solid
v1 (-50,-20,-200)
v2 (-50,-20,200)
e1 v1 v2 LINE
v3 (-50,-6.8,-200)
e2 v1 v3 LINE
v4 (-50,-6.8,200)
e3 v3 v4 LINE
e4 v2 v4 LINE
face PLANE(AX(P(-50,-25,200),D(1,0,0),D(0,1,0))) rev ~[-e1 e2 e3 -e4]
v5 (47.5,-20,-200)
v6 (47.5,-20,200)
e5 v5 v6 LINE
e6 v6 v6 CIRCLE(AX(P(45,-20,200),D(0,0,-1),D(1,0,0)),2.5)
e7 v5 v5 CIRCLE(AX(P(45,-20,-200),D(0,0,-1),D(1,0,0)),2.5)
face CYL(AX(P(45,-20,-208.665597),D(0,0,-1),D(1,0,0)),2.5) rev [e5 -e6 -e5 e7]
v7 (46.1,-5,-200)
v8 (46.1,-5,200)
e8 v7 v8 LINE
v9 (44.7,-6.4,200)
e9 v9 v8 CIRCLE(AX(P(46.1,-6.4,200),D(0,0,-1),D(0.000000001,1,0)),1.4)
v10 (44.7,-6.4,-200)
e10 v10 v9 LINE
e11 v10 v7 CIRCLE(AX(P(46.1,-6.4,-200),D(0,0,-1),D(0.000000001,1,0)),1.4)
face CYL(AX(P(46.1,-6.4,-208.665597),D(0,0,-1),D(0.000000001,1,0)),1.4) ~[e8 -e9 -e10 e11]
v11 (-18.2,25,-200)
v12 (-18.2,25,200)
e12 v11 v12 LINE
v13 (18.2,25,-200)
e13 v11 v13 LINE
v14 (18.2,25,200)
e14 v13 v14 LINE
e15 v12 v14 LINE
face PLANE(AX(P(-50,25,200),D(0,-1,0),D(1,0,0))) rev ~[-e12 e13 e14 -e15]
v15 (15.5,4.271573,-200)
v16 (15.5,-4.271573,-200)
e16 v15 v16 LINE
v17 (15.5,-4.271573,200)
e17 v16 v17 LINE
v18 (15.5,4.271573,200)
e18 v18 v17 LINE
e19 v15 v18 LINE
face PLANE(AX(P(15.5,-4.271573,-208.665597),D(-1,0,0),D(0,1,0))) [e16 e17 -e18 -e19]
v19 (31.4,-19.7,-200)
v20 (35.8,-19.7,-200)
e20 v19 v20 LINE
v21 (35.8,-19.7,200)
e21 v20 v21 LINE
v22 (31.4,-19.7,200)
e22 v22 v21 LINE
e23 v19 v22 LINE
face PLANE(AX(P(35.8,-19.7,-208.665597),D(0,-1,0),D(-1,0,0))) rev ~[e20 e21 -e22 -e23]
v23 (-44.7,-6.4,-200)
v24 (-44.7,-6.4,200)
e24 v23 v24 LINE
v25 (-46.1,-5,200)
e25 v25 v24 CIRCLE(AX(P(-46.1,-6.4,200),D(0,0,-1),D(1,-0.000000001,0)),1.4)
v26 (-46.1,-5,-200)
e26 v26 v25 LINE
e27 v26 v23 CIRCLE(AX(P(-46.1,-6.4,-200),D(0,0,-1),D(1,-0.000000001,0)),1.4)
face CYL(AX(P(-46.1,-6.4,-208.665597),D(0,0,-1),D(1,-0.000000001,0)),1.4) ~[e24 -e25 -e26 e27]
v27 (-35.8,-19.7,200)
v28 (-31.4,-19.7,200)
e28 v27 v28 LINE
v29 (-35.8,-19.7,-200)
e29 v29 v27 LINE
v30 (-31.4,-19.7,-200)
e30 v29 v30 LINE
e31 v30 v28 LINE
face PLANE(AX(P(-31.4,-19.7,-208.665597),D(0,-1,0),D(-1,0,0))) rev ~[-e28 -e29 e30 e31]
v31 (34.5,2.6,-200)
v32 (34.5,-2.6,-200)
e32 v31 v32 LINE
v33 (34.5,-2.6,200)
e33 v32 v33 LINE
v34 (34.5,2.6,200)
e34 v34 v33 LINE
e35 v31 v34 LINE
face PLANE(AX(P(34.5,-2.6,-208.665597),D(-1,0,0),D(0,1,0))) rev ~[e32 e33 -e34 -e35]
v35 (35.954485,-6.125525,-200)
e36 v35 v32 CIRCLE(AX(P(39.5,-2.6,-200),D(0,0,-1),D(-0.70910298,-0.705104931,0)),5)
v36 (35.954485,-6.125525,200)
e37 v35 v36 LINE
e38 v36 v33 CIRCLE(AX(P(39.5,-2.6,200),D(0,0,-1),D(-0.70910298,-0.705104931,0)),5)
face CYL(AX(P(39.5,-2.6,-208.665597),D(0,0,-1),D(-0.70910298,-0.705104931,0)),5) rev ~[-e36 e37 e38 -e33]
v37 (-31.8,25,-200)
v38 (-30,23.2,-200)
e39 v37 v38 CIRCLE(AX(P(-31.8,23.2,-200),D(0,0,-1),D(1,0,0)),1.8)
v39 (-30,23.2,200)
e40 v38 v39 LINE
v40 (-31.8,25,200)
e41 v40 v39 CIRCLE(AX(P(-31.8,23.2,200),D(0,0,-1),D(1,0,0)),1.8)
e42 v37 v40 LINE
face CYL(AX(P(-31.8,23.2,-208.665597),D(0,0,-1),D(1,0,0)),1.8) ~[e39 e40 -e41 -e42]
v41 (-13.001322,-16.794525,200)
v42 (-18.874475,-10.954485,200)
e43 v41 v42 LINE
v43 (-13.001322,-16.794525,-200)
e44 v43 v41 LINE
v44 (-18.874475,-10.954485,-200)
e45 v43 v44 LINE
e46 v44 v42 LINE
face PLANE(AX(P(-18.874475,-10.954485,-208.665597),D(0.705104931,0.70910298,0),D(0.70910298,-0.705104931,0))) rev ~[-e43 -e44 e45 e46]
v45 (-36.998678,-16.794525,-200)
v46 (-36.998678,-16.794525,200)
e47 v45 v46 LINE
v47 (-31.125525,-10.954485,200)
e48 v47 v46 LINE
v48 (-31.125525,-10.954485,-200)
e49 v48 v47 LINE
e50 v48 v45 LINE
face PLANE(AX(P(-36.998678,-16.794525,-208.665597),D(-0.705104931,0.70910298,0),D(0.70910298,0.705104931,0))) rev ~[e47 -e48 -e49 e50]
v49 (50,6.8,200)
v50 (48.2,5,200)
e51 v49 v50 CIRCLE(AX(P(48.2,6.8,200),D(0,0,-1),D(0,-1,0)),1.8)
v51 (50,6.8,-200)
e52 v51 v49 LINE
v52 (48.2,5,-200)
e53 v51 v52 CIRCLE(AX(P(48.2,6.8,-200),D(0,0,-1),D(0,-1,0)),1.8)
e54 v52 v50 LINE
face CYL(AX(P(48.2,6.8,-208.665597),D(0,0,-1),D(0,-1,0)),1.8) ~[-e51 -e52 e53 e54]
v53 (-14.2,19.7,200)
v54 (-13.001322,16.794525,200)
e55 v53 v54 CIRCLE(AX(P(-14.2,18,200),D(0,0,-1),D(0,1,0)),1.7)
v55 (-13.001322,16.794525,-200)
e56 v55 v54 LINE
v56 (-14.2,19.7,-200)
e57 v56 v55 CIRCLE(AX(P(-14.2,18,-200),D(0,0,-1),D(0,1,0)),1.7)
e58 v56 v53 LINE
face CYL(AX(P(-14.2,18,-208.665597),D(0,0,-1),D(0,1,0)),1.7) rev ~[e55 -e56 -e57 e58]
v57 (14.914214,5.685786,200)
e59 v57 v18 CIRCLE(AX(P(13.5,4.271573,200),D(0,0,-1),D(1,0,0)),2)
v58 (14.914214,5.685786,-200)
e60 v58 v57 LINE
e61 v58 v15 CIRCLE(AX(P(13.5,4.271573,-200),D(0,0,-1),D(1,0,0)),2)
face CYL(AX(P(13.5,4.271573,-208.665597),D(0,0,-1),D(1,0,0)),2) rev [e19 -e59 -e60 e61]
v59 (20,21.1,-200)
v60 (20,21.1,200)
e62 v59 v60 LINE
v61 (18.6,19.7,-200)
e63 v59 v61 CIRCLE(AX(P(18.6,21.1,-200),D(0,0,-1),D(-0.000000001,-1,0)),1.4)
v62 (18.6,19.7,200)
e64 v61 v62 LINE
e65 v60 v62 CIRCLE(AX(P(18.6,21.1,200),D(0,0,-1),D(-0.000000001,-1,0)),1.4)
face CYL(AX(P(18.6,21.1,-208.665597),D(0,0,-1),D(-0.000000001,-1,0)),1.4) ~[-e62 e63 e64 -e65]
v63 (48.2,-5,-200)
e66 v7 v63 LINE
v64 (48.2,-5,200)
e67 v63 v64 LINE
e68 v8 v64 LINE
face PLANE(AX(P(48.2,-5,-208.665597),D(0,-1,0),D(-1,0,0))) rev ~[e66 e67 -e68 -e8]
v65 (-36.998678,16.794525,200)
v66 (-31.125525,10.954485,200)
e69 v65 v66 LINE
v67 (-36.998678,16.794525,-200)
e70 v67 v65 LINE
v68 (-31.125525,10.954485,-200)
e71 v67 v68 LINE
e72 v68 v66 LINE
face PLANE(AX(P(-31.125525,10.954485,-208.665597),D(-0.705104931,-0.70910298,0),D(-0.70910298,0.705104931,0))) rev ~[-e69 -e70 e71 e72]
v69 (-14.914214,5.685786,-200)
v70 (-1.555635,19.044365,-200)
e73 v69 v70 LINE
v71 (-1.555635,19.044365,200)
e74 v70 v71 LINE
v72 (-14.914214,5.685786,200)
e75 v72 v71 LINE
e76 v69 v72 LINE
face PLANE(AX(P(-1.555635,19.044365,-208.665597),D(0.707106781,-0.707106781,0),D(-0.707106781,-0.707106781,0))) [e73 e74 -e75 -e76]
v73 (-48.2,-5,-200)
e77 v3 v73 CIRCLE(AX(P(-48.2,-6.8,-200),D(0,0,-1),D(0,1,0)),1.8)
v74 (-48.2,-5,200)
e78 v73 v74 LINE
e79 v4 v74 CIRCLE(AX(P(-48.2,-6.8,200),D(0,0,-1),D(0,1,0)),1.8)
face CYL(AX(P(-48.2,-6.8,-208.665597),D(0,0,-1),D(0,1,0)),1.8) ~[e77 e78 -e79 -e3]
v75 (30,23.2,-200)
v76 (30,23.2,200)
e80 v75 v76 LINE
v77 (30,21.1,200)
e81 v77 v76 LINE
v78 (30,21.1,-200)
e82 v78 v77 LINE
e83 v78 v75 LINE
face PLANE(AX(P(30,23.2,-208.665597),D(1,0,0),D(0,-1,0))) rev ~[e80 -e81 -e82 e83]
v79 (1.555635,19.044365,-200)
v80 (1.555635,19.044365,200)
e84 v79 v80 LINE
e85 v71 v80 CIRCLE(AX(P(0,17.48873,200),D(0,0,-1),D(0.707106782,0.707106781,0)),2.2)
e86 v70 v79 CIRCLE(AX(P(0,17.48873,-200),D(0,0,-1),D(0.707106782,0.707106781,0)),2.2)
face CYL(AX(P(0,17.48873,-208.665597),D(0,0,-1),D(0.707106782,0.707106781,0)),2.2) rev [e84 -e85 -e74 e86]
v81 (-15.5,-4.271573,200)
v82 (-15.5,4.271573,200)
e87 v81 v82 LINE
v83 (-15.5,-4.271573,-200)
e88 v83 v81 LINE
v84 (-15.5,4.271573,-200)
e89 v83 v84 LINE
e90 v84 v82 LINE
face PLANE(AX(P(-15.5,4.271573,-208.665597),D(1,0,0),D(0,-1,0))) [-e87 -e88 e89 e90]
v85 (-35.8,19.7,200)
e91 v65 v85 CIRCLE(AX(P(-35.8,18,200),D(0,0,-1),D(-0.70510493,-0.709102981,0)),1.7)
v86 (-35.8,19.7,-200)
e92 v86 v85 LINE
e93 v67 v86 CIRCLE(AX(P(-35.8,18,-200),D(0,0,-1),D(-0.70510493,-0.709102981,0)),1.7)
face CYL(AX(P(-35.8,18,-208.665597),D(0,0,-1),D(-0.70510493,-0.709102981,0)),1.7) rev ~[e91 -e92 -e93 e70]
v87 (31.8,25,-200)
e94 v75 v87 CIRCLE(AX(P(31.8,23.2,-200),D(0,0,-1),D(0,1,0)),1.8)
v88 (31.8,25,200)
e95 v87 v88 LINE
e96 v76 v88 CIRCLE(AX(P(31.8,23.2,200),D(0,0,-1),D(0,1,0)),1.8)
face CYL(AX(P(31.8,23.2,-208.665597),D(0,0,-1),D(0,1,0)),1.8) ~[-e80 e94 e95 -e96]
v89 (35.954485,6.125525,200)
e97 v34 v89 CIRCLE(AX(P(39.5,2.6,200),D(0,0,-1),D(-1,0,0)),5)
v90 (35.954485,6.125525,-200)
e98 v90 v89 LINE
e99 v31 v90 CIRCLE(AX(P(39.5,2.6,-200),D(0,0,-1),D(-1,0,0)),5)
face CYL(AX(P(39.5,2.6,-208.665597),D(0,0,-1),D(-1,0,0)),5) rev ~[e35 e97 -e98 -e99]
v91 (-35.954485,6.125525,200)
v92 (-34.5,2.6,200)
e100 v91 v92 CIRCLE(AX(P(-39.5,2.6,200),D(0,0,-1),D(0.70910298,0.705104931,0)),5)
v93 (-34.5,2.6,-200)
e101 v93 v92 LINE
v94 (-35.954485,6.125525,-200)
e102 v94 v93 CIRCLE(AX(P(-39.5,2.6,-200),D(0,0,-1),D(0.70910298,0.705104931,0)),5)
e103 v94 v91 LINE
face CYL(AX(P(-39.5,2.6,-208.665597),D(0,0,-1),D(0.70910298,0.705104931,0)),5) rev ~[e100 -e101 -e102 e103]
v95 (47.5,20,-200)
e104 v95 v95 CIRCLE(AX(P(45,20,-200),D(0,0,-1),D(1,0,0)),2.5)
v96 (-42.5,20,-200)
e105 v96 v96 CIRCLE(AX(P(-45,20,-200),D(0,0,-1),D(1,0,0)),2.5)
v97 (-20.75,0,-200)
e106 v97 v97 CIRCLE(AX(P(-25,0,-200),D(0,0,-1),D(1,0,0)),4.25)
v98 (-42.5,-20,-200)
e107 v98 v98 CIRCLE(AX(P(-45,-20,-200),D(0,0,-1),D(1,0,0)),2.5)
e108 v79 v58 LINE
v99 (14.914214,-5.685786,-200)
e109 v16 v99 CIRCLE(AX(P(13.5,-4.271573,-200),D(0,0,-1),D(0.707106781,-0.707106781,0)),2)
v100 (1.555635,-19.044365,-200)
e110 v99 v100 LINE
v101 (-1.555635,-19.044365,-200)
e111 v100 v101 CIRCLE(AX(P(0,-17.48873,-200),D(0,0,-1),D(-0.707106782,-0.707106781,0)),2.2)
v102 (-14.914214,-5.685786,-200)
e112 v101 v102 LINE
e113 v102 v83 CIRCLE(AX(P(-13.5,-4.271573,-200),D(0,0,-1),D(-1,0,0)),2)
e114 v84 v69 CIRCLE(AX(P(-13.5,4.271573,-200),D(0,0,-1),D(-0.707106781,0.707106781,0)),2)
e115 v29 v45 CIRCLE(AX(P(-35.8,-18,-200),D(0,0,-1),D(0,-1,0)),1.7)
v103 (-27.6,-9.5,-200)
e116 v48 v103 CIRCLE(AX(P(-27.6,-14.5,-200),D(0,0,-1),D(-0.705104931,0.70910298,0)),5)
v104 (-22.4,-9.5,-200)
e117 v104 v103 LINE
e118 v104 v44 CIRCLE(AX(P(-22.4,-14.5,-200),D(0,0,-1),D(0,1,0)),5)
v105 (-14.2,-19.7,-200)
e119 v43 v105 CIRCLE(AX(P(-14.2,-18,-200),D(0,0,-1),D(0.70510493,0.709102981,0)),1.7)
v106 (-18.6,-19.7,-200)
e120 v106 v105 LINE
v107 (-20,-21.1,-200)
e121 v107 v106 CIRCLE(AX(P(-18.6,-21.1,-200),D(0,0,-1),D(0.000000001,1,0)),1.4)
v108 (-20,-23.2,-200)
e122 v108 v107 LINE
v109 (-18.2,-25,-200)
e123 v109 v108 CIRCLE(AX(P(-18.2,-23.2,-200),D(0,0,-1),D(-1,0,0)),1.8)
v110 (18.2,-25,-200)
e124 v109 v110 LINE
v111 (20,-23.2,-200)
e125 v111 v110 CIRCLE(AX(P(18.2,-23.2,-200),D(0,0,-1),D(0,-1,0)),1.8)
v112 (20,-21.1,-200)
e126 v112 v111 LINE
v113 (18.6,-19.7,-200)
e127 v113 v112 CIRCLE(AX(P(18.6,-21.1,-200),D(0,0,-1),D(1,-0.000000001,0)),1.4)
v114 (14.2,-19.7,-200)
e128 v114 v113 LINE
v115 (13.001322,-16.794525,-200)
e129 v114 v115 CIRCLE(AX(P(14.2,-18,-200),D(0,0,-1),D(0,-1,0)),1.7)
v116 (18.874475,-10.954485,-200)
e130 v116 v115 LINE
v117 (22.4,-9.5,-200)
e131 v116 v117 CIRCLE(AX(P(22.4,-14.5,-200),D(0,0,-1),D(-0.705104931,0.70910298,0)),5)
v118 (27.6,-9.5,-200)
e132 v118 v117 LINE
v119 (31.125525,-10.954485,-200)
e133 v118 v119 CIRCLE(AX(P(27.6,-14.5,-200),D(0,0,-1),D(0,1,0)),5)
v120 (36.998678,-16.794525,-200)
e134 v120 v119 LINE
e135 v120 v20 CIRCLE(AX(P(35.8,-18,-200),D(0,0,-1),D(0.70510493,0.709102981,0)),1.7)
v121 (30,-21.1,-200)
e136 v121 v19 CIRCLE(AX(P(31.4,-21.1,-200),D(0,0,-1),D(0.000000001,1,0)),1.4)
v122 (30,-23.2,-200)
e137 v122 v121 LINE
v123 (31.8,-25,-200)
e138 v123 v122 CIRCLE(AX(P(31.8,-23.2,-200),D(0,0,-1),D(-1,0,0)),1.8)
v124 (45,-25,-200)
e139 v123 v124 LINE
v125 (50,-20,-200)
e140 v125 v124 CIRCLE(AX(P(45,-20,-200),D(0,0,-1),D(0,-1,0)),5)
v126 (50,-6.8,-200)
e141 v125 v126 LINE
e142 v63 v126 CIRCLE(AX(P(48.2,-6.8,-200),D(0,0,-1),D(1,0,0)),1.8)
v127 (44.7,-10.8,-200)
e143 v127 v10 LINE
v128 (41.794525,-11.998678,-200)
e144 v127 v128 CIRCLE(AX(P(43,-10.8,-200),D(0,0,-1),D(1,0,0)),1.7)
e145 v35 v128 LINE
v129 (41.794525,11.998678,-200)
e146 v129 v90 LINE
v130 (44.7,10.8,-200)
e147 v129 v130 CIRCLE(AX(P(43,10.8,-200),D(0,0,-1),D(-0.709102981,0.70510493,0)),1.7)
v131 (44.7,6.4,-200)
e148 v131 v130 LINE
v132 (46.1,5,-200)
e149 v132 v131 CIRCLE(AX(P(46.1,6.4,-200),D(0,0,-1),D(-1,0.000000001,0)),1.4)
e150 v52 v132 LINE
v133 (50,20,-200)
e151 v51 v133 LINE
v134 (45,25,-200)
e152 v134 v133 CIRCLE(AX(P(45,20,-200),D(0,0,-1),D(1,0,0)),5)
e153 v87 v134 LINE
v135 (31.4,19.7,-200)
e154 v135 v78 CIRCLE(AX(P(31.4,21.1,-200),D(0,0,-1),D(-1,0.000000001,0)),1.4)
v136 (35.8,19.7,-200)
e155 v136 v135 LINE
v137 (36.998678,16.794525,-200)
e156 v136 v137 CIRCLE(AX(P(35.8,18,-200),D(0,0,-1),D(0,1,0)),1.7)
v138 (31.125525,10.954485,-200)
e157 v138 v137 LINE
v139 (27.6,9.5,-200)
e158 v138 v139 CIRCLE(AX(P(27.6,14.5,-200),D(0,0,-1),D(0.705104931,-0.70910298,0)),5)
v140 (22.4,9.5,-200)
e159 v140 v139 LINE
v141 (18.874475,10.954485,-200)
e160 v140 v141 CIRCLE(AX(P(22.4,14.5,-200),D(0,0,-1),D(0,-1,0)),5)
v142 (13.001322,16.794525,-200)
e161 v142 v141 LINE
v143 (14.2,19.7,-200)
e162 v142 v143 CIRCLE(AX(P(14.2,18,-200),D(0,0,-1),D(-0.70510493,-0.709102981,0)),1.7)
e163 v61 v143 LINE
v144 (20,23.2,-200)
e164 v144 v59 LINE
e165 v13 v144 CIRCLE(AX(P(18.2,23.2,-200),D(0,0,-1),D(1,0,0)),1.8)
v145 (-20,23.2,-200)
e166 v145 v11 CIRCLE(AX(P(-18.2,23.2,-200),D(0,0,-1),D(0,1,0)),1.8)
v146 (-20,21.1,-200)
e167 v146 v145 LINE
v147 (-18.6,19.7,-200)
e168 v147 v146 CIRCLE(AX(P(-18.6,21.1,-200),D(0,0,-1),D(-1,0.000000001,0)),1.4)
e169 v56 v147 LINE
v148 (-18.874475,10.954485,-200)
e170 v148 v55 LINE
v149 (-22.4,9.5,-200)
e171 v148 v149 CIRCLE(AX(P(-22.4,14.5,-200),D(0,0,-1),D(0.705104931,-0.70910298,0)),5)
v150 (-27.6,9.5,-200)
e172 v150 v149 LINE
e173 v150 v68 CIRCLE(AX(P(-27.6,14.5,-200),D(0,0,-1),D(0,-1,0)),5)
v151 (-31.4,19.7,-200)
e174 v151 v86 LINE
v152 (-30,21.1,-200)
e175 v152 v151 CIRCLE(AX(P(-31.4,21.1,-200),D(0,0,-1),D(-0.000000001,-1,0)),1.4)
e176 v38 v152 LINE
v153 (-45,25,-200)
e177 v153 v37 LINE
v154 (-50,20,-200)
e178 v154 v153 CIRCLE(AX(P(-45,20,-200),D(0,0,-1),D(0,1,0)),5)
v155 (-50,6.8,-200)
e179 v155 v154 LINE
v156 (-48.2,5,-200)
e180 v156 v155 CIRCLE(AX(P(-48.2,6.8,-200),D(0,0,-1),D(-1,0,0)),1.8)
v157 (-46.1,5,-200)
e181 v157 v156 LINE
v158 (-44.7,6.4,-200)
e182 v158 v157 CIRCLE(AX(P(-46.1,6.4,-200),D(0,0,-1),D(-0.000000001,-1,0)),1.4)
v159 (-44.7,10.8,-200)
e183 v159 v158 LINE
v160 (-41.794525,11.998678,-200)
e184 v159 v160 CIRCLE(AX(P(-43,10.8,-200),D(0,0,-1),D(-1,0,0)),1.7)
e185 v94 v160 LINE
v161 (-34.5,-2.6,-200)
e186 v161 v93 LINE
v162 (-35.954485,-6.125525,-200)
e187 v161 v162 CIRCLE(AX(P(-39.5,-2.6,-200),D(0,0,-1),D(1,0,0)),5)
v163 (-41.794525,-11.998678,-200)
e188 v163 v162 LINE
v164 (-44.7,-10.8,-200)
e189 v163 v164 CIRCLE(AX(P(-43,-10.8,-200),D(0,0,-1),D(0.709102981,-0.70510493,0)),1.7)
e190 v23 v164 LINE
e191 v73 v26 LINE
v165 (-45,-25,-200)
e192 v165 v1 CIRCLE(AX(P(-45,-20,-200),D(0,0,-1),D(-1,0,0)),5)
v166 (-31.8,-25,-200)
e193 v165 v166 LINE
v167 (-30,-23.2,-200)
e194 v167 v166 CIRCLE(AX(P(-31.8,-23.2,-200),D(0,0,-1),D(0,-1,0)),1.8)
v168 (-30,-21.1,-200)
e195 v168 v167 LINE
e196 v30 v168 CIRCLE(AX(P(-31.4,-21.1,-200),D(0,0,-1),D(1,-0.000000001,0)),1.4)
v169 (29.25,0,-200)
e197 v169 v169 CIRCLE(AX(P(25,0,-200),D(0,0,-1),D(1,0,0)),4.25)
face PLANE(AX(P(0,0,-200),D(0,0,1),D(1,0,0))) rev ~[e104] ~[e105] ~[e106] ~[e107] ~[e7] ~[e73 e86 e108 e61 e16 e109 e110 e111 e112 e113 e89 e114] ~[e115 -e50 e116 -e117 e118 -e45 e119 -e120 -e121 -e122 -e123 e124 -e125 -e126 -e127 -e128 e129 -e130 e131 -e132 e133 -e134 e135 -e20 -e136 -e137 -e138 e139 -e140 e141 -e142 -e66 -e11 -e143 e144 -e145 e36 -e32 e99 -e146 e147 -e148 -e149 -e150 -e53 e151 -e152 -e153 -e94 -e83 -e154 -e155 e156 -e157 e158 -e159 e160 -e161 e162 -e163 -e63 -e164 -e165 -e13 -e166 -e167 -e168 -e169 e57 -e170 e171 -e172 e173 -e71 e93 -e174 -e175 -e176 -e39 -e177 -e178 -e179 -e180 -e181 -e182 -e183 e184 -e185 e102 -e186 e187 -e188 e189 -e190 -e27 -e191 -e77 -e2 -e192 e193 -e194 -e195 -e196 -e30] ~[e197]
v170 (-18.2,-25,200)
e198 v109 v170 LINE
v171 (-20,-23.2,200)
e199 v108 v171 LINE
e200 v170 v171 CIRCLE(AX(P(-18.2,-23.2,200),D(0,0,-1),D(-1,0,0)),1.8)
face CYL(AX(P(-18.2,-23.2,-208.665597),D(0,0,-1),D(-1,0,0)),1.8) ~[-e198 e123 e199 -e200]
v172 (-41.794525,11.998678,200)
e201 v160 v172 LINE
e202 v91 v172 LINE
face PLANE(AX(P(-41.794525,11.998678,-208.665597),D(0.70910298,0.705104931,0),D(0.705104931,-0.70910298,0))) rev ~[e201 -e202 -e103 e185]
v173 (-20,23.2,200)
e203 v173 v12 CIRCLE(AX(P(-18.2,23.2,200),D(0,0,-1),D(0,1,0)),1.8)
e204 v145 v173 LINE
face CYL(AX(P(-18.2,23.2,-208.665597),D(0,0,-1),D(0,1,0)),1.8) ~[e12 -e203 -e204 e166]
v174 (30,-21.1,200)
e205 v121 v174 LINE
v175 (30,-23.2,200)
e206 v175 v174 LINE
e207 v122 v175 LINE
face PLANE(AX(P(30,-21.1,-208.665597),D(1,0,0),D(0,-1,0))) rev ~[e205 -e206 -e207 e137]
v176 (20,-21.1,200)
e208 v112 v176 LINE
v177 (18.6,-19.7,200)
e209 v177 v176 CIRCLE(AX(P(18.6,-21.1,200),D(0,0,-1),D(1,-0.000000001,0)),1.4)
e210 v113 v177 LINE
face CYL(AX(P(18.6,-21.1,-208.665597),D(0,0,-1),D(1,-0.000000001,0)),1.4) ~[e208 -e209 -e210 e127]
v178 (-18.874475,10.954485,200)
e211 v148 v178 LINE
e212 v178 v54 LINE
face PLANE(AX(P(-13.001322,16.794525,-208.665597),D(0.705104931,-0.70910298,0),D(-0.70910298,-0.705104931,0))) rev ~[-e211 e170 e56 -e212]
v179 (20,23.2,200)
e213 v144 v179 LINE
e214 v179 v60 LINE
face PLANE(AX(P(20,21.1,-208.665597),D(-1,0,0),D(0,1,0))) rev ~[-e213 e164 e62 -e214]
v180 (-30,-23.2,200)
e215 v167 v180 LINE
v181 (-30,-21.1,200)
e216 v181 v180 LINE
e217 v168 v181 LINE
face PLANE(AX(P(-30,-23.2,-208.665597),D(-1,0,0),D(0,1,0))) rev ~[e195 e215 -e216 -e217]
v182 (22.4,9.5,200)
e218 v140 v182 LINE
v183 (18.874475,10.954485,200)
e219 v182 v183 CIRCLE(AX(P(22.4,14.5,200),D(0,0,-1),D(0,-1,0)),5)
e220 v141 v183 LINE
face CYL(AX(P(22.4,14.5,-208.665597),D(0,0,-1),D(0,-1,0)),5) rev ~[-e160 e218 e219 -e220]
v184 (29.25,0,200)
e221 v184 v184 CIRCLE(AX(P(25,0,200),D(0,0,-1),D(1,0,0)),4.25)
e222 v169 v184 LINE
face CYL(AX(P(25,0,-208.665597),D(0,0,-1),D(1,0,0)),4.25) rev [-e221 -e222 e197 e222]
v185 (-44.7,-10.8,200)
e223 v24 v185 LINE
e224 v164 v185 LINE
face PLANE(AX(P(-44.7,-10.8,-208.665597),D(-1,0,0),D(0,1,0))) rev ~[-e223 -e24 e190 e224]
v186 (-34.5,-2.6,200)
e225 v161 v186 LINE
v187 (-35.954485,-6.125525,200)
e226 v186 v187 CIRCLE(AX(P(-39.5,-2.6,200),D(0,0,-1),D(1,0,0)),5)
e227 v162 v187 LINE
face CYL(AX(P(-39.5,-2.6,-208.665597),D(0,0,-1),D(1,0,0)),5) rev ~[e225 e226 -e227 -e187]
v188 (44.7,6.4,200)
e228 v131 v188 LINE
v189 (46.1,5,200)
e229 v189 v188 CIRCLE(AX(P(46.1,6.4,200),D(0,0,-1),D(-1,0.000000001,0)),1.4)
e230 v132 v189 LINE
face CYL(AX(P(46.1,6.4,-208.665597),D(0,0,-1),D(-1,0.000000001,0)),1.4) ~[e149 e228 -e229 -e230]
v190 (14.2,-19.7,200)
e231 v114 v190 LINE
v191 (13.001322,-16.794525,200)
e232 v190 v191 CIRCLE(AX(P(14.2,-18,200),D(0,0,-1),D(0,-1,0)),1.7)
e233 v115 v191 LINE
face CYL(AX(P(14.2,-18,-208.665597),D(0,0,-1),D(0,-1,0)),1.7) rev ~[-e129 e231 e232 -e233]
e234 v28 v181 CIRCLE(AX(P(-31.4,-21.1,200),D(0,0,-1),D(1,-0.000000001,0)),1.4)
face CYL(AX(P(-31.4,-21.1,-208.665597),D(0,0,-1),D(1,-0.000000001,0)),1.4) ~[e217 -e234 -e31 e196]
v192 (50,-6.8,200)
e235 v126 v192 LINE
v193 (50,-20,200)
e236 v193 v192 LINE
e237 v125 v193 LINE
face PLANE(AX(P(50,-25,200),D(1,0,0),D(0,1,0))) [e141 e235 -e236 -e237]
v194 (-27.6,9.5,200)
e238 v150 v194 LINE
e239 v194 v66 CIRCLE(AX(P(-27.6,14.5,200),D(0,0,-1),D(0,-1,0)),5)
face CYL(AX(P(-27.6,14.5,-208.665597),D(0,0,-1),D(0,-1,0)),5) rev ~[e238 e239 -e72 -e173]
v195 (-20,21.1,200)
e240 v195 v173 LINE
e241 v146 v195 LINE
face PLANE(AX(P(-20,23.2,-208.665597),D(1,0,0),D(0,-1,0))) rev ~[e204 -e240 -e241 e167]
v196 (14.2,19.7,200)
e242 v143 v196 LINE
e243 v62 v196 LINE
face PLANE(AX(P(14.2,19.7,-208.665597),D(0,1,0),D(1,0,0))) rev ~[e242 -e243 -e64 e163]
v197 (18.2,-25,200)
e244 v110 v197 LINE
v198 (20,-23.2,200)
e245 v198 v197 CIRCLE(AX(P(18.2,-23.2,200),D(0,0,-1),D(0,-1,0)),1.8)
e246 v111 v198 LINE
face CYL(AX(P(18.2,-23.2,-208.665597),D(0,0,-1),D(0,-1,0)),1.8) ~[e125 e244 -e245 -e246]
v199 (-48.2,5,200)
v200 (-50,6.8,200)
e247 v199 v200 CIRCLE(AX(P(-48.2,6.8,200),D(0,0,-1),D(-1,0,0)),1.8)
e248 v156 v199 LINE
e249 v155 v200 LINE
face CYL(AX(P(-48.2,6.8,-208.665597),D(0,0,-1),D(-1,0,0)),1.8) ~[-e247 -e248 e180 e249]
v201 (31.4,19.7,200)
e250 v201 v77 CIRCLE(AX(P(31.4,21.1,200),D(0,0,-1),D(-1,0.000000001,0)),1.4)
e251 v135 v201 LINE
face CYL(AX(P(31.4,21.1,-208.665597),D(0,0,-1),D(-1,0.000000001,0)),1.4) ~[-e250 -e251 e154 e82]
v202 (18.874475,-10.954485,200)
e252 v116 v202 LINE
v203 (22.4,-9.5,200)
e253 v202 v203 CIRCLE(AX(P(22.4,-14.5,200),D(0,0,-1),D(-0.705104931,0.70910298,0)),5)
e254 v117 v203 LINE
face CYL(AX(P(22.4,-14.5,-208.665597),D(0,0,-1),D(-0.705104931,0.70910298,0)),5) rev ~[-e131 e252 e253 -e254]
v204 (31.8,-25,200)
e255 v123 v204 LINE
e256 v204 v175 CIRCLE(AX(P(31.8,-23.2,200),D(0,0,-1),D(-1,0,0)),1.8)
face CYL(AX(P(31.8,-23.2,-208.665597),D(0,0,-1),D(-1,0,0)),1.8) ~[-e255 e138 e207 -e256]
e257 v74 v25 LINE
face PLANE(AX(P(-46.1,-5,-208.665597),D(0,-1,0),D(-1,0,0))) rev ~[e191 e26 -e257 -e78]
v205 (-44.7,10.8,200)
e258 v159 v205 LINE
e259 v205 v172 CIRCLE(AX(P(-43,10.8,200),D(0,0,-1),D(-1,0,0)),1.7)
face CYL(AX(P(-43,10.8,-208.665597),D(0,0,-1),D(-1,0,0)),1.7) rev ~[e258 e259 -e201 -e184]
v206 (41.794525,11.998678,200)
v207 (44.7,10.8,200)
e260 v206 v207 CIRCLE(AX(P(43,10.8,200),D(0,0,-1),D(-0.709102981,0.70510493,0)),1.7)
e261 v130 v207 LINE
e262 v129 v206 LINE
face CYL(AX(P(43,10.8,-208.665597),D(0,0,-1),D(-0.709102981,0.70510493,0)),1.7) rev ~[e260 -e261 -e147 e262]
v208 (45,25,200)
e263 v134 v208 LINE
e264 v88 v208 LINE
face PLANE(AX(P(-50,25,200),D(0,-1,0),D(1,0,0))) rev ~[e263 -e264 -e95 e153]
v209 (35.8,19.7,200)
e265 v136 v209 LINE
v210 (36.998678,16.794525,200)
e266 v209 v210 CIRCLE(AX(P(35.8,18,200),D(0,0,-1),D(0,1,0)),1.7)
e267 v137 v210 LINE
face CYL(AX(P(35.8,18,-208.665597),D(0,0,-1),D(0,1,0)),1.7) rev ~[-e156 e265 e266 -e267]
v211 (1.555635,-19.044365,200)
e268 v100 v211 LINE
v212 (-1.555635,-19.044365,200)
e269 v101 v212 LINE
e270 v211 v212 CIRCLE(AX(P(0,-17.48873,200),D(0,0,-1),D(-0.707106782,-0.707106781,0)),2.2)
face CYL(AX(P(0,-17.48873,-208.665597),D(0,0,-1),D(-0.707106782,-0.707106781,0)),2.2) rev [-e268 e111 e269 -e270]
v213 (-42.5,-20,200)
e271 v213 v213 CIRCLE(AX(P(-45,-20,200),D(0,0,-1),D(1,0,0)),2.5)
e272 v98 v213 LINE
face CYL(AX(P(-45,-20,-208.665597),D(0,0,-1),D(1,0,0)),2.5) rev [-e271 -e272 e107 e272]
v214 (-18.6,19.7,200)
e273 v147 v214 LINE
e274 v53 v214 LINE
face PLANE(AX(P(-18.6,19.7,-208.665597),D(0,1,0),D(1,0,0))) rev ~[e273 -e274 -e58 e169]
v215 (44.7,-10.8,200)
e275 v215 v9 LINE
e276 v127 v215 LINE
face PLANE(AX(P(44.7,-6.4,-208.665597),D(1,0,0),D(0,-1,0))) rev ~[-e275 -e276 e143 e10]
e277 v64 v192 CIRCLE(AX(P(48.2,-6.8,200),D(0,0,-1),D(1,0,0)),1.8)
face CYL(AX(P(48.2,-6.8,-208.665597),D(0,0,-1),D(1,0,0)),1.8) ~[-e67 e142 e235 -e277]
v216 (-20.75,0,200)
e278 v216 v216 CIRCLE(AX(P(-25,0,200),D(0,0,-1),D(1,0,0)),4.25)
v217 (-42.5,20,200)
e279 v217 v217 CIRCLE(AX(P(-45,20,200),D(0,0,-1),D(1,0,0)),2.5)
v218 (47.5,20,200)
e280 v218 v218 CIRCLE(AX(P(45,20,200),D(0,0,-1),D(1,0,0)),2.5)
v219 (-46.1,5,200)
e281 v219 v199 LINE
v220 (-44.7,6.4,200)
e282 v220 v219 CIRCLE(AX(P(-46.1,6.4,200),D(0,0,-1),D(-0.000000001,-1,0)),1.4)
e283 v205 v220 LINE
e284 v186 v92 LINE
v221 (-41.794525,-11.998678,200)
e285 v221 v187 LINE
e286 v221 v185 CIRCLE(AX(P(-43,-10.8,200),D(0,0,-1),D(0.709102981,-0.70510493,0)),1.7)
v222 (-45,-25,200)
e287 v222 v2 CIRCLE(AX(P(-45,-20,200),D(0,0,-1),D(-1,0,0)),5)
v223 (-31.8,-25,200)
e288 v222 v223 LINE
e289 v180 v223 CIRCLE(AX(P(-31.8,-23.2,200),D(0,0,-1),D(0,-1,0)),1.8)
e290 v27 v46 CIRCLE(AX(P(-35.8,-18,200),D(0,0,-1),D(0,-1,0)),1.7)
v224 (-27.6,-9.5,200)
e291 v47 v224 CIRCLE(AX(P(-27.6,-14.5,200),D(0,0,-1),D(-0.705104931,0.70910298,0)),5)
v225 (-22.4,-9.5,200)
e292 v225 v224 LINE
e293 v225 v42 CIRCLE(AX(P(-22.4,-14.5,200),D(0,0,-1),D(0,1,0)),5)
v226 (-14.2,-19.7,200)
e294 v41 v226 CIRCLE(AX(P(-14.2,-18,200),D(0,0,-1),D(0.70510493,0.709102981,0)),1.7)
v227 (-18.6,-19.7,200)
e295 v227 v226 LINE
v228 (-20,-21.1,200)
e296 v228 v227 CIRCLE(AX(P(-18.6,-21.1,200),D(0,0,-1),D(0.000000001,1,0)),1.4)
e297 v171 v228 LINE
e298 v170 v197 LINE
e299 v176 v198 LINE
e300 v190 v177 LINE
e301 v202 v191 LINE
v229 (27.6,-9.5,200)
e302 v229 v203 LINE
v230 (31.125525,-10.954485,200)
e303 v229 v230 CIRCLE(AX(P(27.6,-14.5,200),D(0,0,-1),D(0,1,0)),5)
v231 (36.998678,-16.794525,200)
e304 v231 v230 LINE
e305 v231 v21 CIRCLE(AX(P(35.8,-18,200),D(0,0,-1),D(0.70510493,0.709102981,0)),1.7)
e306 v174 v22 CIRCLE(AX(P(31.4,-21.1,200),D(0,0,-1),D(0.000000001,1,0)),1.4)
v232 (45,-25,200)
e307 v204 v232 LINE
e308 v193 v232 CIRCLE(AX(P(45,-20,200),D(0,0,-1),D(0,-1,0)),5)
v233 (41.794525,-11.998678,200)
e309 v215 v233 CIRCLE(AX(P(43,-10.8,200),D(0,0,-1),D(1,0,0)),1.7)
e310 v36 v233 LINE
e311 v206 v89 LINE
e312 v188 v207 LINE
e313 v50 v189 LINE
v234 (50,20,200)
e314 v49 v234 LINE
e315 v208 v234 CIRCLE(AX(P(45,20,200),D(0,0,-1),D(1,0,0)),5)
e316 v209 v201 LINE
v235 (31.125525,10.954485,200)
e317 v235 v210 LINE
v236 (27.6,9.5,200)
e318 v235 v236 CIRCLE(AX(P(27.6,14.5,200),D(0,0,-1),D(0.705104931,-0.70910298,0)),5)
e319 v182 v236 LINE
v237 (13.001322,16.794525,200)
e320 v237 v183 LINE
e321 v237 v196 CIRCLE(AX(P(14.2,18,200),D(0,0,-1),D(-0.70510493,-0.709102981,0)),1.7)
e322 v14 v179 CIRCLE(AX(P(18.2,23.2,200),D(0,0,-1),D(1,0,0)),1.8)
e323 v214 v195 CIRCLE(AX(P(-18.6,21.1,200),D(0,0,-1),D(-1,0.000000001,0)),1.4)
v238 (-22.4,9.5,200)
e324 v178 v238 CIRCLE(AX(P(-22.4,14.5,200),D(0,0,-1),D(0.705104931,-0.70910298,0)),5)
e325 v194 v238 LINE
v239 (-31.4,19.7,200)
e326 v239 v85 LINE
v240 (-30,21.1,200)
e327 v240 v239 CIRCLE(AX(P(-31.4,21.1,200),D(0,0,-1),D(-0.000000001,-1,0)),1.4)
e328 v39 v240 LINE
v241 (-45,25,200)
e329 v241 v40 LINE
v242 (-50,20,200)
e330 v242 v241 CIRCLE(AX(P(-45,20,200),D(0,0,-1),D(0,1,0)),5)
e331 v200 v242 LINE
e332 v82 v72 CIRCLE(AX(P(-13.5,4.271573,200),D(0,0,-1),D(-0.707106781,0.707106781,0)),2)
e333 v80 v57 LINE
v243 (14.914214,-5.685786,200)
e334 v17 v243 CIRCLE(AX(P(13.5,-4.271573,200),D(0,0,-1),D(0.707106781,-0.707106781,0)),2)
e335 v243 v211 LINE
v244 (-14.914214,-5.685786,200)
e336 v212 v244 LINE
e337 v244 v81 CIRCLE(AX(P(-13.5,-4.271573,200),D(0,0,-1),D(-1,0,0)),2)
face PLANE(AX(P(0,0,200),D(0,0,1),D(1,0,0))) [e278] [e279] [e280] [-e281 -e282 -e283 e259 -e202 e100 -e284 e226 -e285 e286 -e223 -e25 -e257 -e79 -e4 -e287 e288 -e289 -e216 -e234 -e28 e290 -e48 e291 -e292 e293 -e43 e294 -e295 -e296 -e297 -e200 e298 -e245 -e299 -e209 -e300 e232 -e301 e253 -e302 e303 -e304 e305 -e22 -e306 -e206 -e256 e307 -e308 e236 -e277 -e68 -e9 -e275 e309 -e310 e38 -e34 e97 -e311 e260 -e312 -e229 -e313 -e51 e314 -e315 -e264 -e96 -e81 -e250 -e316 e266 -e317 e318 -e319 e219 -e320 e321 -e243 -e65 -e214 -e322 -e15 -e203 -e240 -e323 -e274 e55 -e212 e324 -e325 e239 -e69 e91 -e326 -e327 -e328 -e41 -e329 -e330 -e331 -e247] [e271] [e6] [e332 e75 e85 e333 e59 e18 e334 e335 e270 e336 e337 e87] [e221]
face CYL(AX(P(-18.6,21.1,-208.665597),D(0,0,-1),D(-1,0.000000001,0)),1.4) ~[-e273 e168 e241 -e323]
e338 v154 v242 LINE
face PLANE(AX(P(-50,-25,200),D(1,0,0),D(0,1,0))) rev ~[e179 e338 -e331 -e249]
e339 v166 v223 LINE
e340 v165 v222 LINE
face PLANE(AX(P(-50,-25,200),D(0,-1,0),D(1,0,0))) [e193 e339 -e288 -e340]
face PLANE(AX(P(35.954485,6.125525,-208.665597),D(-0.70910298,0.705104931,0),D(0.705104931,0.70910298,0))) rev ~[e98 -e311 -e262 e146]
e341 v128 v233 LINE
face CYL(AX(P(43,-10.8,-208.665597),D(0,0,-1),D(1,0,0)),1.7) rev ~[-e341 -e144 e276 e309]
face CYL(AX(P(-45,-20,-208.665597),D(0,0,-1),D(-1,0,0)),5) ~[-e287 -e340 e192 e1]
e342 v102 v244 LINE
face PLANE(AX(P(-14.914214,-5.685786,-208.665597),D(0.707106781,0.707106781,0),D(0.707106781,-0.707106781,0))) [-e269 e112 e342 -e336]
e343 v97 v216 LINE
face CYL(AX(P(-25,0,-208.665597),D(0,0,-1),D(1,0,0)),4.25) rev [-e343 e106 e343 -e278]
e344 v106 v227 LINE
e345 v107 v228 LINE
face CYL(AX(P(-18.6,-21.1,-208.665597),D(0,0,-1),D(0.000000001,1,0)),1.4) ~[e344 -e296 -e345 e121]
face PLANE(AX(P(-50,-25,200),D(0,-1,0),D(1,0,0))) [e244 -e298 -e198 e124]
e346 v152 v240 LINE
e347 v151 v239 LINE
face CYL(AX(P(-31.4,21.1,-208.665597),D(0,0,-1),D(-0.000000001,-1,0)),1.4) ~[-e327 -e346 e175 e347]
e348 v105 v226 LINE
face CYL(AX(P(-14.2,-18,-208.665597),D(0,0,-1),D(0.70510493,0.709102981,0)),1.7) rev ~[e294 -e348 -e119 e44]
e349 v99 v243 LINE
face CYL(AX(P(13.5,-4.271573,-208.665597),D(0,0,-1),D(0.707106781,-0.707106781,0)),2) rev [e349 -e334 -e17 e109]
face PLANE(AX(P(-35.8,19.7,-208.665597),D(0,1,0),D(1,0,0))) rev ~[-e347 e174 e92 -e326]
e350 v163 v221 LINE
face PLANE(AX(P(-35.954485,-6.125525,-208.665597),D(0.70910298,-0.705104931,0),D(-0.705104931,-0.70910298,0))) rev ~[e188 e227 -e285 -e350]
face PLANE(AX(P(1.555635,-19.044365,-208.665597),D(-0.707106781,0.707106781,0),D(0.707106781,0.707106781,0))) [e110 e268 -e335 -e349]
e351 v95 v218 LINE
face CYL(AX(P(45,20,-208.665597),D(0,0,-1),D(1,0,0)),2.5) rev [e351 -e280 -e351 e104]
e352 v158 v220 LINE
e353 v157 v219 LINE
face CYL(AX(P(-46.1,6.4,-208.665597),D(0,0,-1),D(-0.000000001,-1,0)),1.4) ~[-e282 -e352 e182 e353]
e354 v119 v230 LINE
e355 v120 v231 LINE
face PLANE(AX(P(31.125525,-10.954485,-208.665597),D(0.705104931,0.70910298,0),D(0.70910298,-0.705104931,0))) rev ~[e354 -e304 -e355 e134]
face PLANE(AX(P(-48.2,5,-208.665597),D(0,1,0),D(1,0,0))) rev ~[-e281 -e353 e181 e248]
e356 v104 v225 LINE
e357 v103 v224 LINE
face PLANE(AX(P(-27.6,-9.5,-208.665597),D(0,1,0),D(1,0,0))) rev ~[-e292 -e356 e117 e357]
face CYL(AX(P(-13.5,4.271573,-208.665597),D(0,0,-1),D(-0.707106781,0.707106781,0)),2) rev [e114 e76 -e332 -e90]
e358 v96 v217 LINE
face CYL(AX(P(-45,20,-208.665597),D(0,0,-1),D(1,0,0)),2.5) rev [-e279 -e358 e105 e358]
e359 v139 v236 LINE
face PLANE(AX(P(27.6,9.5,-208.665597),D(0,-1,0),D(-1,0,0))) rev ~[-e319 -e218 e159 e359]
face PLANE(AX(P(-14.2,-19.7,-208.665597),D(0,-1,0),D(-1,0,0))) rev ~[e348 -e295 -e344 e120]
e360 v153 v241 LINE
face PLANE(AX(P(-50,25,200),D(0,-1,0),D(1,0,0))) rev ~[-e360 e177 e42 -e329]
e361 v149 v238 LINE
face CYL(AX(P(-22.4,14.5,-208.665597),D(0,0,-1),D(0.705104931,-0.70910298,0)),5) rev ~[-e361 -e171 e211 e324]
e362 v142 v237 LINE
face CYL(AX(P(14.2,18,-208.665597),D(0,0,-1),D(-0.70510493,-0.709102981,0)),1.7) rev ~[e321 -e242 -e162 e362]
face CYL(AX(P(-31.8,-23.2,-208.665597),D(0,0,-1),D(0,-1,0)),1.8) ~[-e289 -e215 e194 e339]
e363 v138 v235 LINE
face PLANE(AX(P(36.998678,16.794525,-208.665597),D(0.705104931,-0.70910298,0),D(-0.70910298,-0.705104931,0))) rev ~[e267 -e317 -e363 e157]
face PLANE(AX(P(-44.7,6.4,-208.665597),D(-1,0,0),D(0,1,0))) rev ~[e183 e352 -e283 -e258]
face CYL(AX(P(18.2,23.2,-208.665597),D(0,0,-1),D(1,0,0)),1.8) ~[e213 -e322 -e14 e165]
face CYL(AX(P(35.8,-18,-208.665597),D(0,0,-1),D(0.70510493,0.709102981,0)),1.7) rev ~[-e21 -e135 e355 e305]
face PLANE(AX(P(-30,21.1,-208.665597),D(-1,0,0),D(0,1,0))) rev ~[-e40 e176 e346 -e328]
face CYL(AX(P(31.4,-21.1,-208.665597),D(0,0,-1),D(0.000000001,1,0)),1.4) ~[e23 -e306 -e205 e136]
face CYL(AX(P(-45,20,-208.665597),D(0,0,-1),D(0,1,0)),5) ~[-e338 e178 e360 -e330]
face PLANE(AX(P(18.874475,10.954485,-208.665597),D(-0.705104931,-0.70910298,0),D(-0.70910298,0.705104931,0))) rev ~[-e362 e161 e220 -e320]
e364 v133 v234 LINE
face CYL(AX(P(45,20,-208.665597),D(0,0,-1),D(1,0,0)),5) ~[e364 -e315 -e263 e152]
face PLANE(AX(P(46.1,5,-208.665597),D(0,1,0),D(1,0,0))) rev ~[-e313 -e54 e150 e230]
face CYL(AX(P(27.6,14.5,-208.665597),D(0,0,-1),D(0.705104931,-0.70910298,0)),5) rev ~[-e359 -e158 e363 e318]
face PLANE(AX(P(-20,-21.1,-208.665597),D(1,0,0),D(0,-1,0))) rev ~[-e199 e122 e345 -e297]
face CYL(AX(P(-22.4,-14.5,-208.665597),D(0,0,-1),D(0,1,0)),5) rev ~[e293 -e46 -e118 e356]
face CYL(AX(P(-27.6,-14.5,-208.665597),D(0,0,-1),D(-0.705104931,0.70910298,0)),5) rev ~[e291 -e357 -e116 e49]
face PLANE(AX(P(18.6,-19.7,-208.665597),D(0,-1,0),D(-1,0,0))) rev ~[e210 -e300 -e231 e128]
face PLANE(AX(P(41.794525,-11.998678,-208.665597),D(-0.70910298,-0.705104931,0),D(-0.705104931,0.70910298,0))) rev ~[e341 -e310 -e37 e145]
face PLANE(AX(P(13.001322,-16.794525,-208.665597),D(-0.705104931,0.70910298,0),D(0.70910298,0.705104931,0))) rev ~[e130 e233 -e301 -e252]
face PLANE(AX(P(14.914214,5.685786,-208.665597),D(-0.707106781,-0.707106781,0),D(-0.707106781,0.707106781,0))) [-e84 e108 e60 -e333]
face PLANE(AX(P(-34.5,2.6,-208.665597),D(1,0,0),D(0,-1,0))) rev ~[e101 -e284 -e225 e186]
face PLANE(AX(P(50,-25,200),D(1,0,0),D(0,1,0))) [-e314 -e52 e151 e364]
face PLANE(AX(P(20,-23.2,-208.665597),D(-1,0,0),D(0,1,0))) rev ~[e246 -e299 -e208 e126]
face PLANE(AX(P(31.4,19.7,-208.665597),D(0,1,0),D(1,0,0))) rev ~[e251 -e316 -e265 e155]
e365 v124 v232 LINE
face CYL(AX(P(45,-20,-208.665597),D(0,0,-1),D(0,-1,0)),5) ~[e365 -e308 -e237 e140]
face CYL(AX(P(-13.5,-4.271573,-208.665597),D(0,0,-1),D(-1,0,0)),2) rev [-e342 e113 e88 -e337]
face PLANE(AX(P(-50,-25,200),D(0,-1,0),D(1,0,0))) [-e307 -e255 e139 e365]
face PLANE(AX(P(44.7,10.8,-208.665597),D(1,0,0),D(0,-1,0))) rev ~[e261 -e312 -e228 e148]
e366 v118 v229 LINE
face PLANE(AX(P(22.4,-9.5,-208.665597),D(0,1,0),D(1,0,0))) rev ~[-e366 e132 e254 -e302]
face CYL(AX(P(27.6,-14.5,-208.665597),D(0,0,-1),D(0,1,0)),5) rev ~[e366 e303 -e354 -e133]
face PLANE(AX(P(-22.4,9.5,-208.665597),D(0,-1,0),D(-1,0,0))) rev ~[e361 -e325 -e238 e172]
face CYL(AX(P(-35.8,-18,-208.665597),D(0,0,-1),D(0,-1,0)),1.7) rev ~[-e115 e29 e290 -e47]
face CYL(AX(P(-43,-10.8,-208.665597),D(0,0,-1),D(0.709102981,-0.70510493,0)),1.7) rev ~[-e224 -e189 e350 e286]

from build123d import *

# Parameters (mm, degrees)
SKETCH4_W              = 100
SKETCH4_H              = 50
BODY_DEPTH             = 400
CUT_PROFILE_DEPTH      = 208.665596573
CUT_PROFILE_DEPTH_BACK = 208.665596573
SKETCH6_OUTSIDE_W      = 185.066
SKETCH6_OUTSIDE_H      = 135.066
SKETCH6_OUTSIDE_R      = 4.25
SKETCH6_OUTSIDE_R_2    = 2.5


with BuildPart() as part:
    # Sketch4 → Body (new body)
    with BuildSketch(Plane.XY.offset(200)):
        Rectangle(SKETCH4_W, SKETCH4_H)
    extrude(amount=-BODY_DEPTH)

    # Sketch6 outside → Cut-Profile (cut, two sides: drawn at the far end of the back side and taken through both)
    # profile 1 of 8: a face of its own
    with BuildSketch(Plane.XY.offset(-CUT_PROFILE_DEPTH_BACK)):
        Rectangle(SKETCH6_OUTSIDE_W, SKETCH6_OUTSIDE_H)
        with BuildLine():
            Line((-31.4, -19.7), (-35.8, -19.7))
            ThreePointArc((-35.8, -19.7), (-37.371513222, -18.648341109), (-36.998678382, -16.794524933))
            Line((-36.998678382, -16.794524933), (-31.125524653, -10.954485098))
            ThreePointArc((-31.125524653, -10.954485098), (-29.506885614, -9.877902288), (-27.6, -9.5))
            Line((-27.6, -9.5), (-22.4, -9.5))
            ThreePointArc((-22.4, -9.5), (-20.493114386, -9.877902288), (-18.874475347, -10.954485098))
            Line((-18.874475347, -10.954485098), (-13.001321618, -16.794524933))
            ThreePointArc((-13.001321618, -16.794524933), (-12.628486778, -18.648341109), (-14.2, -19.7))
            Line((-14.2, -19.7), (-18.6, -19.7))
            ThreePointArc((-18.6, -19.7), (-19.589949494, -20.110050506), (-20, -21.1))
            Line((-20, -21.1), (-20, -23.2))
            ThreePointArc((-20, -23.2), (-19.472792206, -24.472792206), (-18.2, -25))
            Line((-18.2, -25), (18.2, -25))
            ThreePointArc((18.2, -25), (19.472792206, -24.472792206), (20, -23.2))
            Line((20, -23.2), (20, -21.1))
            ThreePointArc((20, -21.1), (19.589949494, -20.110050506), (18.6, -19.7))
            Line((18.6, -19.7), (14.2, -19.7))
            ThreePointArc((14.2, -19.7), (12.628486778, -18.648341109), (13.001321618, -16.794524933))
            Line((13.001321618, -16.794524933), (18.874475347, -10.954485098))
            ThreePointArc((18.874475347, -10.954485098), (20.493114386, -9.877902288), (22.4, -9.5))
            Line((22.4, -9.5), (27.6, -9.5))
            ThreePointArc((27.6, -9.5), (29.506885614, -9.877902288), (31.125524653, -10.954485098))
            Line((31.125524653, -10.954485098), (36.998678382, -16.794524933))
            ThreePointArc((36.998678382, -16.794524933), (37.371513222, -18.648341109), (35.8, -19.7))
            Line((35.8, -19.7), (31.4, -19.7))
            ThreePointArc((31.4, -19.7), (30.410050506, -20.110050506), (30, -21.1))
            Line((30, -21.1), (30, -23.2))
            ThreePointArc((30, -23.2), (30.527207794, -24.472792206), (31.8, -25))
            Line((31.8, -25), (45, -25))
            ThreePointArc((45, -25), (48.535533906, -23.535533906), (50, -20))
            Line((50, -20), (50, -6.8))
            ThreePointArc((50, -6.8), (49.472792206, -5.527207794), (48.2, -5))
            Line((48.2, -5), (46.1, -5))
            ThreePointArc((46.1, -5), (45.110050506, -5.410050506), (44.7, -6.4))
            Line((44.7, -6.4), (44.7, -10.8))
            ThreePointArc((44.7, -10.8), (43.648341109, -12.371513222), (41.794524933, -11.998678382))
            Line((41.794524933, -11.998678382), (35.954485098, -6.125524653))
            ThreePointArc((35.954485098, -6.125524653), (34.877902288, -4.506885614), (34.5, -2.6))
            Line((34.5, -2.6), (34.5, 2.6))
            ThreePointArc((34.5, 2.6), (34.877902288, 4.506885614), (35.954485098, 6.125524653))
            Line((35.954485098, 6.125524653), (41.794524933, 11.998678382))
            ThreePointArc((41.794524933, 11.998678382), (43.648341109, 12.371513222), (44.7, 10.8))
            Line((44.7, 10.8), (44.7, 6.4))
            ThreePointArc((44.7, 6.4), (45.110050506, 5.410050506), (46.1, 5))
            Line((46.1, 5), (48.2, 5))
            ThreePointArc((48.2, 5), (49.472792206, 5.527207794), (50, 6.8))
            Line((50, 6.8), (50, 20))
            ThreePointArc((50, 20), (48.535533906, 23.535533906), (45, 25))
            Line((45, 25), (31.8, 25))
            ThreePointArc((31.8, 25), (30.527207794, 24.472792206), (30, 23.2))
            Line((30, 23.2), (30, 21.1))
            ThreePointArc((30, 21.1), (30.410050506, 20.110050506), (31.4, 19.7))
            Line((31.4, 19.7), (35.8, 19.7))
            ThreePointArc((35.8, 19.7), (37.371513222, 18.648341109), (36.998678382, 16.794524933))
            Line((36.998678382, 16.794524933), (31.125524653, 10.954485098))
            ThreePointArc((31.125524653, 10.954485098), (29.506885614, 9.877902288), (27.6, 9.5))
            Line((27.6, 9.5), (22.4, 9.5))
            ThreePointArc((22.4, 9.5), (20.493114386, 9.877902288), (18.874475347, 10.954485098))
            Line((18.874475347, 10.954485098), (13.001321618, 16.794524933))
            ThreePointArc((13.001321618, 16.794524933), (12.628486778, 18.648341109), (14.2, 19.7))
            Line((14.2, 19.7), (18.6, 19.7))
            ThreePointArc((18.6, 19.7), (19.589949494, 20.110050506), (20, 21.1))
            Line((20, 21.1), (20, 23.2))
            ThreePointArc((20, 23.2), (19.472792206, 24.472792206), (18.2, 25))
            Line((18.2, 25), (-18.2, 25))
            ThreePointArc((-18.2, 25), (-19.472792206, 24.472792206), (-20, 23.2))
            Line((-20, 23.2), (-20, 21.1))
            ThreePointArc((-20, 21.1), (-19.589949494, 20.110050506), (-18.6, 19.7))
            Line((-18.6, 19.7), (-14.2, 19.7))
            ThreePointArc((-14.2, 19.7), (-12.628486778, 18.648341109), (-13.001321618, 16.794524933))
            Line((-13.001321618, 16.794524933), (-18.874475347, 10.954485098))
            ThreePointArc((-18.874475347, 10.954485098), (-20.493114386, 9.877902288), (-22.4, 9.5))
            Line((-22.4, 9.5), (-27.6, 9.5))
            ThreePointArc((-27.6, 9.5), (-29.506885614, 9.877902288), (-31.125524653, 10.954485098))
            Line((-31.125524653, 10.954485098), (-36.998678382, 16.794524933))
            ThreePointArc((-36.998678382, 16.794524933), (-37.371513222, 18.648341109), (-35.8, 19.7))
            Line((-35.8, 19.7), (-31.4, 19.7))
            ThreePointArc((-31.4, 19.7), (-30.410050506, 20.110050506), (-30, 21.1))
            Line((-30, 21.1), (-30, 23.2))
            ThreePointArc((-30, 23.2), (-30.527207794, 24.472792206), (-31.8, 25))
            Line((-31.8, 25), (-45, 25))
            ThreePointArc((-45, 25), (-48.535533906, 23.535533906), (-50, 20))
            Line((-50, 20), (-50, 6.8))
            ThreePointArc((-50, 6.8), (-49.472792206, 5.527207794), (-48.2, 5))
            Line((-48.2, 5), (-46.1, 5))
            ThreePointArc((-46.1, 5), (-45.110050506, 5.410050506), (-44.7, 6.4))
            Line((-44.7, 6.4), (-44.7, 10.8))
            ThreePointArc((-44.7, 10.8), (-43.648341109, 12.371513222), (-41.794524933, 11.998678382))
            Line((-41.794524933, 11.998678382), (-35.954485098, 6.125524653))
            ThreePointArc((-35.954485098, 6.125524653), (-34.877902288, 4.506885614), (-34.5, 2.6))
            Line((-34.5, 2.6), (-34.5, -2.6))
            ThreePointArc((-34.5, -2.6), (-34.877902288, -4.506885614), (-35.954485098, -6.125524653))
            Line((-35.954485098, -6.125524653), (-41.794524933, -11.998678382))
            ThreePointArc((-41.794524933, -11.998678382), (-43.648341109, -12.371513222), (-44.7, -10.8))
            Line((-44.7, -10.8), (-44.7, -6.4))
            ThreePointArc((-44.7, -6.4), (-45.110050506, -5.410050506), (-46.1, -5))
            Line((-46.1, -5), (-48.2, -5))
            ThreePointArc((-48.2, -5), (-49.472792206, -5.527207794), (-50, -6.8))
            Line((-50, -6.8), (-50, -20))
            ThreePointArc((-50, -20), (-48.535533906, -23.535533906), (-45, -25))
            Line((-45, -25), (-31.8, -25))
            ThreePointArc((-31.8, -25), (-30.527207794, -24.472792206), (-30, -23.2))
            Line((-30, -23.2), (-30, -21.1))
            ThreePointArc((-30, -21.1), (-30.410050506, -20.110050506), (-31.4, -19.7))
        make_face(mode=Mode.SUBTRACT)
    # profile 2 of 8: a face of its own
    with BuildSketch(Plane.XY.offset(-CUT_PROFILE_DEPTH_BACK)):
        with Locations((25, 0)):
            Circle(SKETCH6_OUTSIDE_R)
    # profile 3 of 8: a face of its own
    with BuildSketch(Plane.XY.offset(-CUT_PROFILE_DEPTH_BACK)):
        with Locations((45, -20)):
            Circle(SKETCH6_OUTSIDE_R_2)
    # profile 4 of 8: a face of its own
    with BuildSketch(Plane.XY.offset(-CUT_PROFILE_DEPTH_BACK)):
        with Locations((45, 20)):
            Circle(SKETCH6_OUTSIDE_R_2)
    # profile 5 of 8: a face of its own
    with BuildSketch(Plane.XY.offset(-CUT_PROFILE_DEPTH_BACK)):
        with Locations((-45, -20)):
            Circle(SKETCH6_OUTSIDE_R_2)
    # profile 6 of 8: a face of its own
    with BuildSketch(Plane.XY.offset(-CUT_PROFILE_DEPTH_BACK)):
        with Locations((-45, 20)):
            Circle(SKETCH6_OUTSIDE_R_2)
    # profile 7 of 8: a face of its own
    with BuildSketch(Plane.XY.offset(-CUT_PROFILE_DEPTH_BACK)):
        with Locations((-25, 0)):
            Circle(SKETCH6_OUTSIDE_R)
    # profile 8 of 8: a face of its own
    with BuildSketch(Plane.XY.offset(-CUT_PROFILE_DEPTH_BACK)):
        with BuildLine():
            Line((14.914213562, 5.685786438), (1.555634919, 19.044365081))
            ThreePointArc((1.555634919, 19.044365081), (0, 19.688730163), (-1.555634919, 19.044365081))
            Line((-1.555634919, 19.044365081), (-14.914213562, 5.685786438))
            ThreePointArc((-14.914213562, 5.685786438), (-15.347759065, 5.03693974), (-15.5, 4.271572875))
            Line((-15.5, 4.271572875), (-15.5, -4.271572875))
            ThreePointArc((-15.5, -4.271572875), (-15.347759065, -5.03693974), (-14.914213562, -5.685786438))
            Line((-14.914213562, -5.685786438), (-1.555634919, -19.044365081))
            ThreePointArc((-1.555634919, -19.044365081), (0, -19.688730163), (1.555634919, -19.044365081))
            Line((1.555634919, -19.044365081), (14.914213562, -5.685786438))
            ThreePointArc((14.914213562, -5.685786438), (15.347759065, -5.03693974), (15.5, -4.271572875))
            Line((15.5, -4.271572875), (15.5, 4.271572875))
            ThreePointArc((15.5, 4.271572875), (15.347759065, 5.03693974), (14.914213562, 5.685786438))
        make_face()
    extrude(amount=CUT_PROFILE_DEPTH + CUT_PROFILE_DEPTH_BACK, mode=Mode.SUBTRACT)


solid = part.part
